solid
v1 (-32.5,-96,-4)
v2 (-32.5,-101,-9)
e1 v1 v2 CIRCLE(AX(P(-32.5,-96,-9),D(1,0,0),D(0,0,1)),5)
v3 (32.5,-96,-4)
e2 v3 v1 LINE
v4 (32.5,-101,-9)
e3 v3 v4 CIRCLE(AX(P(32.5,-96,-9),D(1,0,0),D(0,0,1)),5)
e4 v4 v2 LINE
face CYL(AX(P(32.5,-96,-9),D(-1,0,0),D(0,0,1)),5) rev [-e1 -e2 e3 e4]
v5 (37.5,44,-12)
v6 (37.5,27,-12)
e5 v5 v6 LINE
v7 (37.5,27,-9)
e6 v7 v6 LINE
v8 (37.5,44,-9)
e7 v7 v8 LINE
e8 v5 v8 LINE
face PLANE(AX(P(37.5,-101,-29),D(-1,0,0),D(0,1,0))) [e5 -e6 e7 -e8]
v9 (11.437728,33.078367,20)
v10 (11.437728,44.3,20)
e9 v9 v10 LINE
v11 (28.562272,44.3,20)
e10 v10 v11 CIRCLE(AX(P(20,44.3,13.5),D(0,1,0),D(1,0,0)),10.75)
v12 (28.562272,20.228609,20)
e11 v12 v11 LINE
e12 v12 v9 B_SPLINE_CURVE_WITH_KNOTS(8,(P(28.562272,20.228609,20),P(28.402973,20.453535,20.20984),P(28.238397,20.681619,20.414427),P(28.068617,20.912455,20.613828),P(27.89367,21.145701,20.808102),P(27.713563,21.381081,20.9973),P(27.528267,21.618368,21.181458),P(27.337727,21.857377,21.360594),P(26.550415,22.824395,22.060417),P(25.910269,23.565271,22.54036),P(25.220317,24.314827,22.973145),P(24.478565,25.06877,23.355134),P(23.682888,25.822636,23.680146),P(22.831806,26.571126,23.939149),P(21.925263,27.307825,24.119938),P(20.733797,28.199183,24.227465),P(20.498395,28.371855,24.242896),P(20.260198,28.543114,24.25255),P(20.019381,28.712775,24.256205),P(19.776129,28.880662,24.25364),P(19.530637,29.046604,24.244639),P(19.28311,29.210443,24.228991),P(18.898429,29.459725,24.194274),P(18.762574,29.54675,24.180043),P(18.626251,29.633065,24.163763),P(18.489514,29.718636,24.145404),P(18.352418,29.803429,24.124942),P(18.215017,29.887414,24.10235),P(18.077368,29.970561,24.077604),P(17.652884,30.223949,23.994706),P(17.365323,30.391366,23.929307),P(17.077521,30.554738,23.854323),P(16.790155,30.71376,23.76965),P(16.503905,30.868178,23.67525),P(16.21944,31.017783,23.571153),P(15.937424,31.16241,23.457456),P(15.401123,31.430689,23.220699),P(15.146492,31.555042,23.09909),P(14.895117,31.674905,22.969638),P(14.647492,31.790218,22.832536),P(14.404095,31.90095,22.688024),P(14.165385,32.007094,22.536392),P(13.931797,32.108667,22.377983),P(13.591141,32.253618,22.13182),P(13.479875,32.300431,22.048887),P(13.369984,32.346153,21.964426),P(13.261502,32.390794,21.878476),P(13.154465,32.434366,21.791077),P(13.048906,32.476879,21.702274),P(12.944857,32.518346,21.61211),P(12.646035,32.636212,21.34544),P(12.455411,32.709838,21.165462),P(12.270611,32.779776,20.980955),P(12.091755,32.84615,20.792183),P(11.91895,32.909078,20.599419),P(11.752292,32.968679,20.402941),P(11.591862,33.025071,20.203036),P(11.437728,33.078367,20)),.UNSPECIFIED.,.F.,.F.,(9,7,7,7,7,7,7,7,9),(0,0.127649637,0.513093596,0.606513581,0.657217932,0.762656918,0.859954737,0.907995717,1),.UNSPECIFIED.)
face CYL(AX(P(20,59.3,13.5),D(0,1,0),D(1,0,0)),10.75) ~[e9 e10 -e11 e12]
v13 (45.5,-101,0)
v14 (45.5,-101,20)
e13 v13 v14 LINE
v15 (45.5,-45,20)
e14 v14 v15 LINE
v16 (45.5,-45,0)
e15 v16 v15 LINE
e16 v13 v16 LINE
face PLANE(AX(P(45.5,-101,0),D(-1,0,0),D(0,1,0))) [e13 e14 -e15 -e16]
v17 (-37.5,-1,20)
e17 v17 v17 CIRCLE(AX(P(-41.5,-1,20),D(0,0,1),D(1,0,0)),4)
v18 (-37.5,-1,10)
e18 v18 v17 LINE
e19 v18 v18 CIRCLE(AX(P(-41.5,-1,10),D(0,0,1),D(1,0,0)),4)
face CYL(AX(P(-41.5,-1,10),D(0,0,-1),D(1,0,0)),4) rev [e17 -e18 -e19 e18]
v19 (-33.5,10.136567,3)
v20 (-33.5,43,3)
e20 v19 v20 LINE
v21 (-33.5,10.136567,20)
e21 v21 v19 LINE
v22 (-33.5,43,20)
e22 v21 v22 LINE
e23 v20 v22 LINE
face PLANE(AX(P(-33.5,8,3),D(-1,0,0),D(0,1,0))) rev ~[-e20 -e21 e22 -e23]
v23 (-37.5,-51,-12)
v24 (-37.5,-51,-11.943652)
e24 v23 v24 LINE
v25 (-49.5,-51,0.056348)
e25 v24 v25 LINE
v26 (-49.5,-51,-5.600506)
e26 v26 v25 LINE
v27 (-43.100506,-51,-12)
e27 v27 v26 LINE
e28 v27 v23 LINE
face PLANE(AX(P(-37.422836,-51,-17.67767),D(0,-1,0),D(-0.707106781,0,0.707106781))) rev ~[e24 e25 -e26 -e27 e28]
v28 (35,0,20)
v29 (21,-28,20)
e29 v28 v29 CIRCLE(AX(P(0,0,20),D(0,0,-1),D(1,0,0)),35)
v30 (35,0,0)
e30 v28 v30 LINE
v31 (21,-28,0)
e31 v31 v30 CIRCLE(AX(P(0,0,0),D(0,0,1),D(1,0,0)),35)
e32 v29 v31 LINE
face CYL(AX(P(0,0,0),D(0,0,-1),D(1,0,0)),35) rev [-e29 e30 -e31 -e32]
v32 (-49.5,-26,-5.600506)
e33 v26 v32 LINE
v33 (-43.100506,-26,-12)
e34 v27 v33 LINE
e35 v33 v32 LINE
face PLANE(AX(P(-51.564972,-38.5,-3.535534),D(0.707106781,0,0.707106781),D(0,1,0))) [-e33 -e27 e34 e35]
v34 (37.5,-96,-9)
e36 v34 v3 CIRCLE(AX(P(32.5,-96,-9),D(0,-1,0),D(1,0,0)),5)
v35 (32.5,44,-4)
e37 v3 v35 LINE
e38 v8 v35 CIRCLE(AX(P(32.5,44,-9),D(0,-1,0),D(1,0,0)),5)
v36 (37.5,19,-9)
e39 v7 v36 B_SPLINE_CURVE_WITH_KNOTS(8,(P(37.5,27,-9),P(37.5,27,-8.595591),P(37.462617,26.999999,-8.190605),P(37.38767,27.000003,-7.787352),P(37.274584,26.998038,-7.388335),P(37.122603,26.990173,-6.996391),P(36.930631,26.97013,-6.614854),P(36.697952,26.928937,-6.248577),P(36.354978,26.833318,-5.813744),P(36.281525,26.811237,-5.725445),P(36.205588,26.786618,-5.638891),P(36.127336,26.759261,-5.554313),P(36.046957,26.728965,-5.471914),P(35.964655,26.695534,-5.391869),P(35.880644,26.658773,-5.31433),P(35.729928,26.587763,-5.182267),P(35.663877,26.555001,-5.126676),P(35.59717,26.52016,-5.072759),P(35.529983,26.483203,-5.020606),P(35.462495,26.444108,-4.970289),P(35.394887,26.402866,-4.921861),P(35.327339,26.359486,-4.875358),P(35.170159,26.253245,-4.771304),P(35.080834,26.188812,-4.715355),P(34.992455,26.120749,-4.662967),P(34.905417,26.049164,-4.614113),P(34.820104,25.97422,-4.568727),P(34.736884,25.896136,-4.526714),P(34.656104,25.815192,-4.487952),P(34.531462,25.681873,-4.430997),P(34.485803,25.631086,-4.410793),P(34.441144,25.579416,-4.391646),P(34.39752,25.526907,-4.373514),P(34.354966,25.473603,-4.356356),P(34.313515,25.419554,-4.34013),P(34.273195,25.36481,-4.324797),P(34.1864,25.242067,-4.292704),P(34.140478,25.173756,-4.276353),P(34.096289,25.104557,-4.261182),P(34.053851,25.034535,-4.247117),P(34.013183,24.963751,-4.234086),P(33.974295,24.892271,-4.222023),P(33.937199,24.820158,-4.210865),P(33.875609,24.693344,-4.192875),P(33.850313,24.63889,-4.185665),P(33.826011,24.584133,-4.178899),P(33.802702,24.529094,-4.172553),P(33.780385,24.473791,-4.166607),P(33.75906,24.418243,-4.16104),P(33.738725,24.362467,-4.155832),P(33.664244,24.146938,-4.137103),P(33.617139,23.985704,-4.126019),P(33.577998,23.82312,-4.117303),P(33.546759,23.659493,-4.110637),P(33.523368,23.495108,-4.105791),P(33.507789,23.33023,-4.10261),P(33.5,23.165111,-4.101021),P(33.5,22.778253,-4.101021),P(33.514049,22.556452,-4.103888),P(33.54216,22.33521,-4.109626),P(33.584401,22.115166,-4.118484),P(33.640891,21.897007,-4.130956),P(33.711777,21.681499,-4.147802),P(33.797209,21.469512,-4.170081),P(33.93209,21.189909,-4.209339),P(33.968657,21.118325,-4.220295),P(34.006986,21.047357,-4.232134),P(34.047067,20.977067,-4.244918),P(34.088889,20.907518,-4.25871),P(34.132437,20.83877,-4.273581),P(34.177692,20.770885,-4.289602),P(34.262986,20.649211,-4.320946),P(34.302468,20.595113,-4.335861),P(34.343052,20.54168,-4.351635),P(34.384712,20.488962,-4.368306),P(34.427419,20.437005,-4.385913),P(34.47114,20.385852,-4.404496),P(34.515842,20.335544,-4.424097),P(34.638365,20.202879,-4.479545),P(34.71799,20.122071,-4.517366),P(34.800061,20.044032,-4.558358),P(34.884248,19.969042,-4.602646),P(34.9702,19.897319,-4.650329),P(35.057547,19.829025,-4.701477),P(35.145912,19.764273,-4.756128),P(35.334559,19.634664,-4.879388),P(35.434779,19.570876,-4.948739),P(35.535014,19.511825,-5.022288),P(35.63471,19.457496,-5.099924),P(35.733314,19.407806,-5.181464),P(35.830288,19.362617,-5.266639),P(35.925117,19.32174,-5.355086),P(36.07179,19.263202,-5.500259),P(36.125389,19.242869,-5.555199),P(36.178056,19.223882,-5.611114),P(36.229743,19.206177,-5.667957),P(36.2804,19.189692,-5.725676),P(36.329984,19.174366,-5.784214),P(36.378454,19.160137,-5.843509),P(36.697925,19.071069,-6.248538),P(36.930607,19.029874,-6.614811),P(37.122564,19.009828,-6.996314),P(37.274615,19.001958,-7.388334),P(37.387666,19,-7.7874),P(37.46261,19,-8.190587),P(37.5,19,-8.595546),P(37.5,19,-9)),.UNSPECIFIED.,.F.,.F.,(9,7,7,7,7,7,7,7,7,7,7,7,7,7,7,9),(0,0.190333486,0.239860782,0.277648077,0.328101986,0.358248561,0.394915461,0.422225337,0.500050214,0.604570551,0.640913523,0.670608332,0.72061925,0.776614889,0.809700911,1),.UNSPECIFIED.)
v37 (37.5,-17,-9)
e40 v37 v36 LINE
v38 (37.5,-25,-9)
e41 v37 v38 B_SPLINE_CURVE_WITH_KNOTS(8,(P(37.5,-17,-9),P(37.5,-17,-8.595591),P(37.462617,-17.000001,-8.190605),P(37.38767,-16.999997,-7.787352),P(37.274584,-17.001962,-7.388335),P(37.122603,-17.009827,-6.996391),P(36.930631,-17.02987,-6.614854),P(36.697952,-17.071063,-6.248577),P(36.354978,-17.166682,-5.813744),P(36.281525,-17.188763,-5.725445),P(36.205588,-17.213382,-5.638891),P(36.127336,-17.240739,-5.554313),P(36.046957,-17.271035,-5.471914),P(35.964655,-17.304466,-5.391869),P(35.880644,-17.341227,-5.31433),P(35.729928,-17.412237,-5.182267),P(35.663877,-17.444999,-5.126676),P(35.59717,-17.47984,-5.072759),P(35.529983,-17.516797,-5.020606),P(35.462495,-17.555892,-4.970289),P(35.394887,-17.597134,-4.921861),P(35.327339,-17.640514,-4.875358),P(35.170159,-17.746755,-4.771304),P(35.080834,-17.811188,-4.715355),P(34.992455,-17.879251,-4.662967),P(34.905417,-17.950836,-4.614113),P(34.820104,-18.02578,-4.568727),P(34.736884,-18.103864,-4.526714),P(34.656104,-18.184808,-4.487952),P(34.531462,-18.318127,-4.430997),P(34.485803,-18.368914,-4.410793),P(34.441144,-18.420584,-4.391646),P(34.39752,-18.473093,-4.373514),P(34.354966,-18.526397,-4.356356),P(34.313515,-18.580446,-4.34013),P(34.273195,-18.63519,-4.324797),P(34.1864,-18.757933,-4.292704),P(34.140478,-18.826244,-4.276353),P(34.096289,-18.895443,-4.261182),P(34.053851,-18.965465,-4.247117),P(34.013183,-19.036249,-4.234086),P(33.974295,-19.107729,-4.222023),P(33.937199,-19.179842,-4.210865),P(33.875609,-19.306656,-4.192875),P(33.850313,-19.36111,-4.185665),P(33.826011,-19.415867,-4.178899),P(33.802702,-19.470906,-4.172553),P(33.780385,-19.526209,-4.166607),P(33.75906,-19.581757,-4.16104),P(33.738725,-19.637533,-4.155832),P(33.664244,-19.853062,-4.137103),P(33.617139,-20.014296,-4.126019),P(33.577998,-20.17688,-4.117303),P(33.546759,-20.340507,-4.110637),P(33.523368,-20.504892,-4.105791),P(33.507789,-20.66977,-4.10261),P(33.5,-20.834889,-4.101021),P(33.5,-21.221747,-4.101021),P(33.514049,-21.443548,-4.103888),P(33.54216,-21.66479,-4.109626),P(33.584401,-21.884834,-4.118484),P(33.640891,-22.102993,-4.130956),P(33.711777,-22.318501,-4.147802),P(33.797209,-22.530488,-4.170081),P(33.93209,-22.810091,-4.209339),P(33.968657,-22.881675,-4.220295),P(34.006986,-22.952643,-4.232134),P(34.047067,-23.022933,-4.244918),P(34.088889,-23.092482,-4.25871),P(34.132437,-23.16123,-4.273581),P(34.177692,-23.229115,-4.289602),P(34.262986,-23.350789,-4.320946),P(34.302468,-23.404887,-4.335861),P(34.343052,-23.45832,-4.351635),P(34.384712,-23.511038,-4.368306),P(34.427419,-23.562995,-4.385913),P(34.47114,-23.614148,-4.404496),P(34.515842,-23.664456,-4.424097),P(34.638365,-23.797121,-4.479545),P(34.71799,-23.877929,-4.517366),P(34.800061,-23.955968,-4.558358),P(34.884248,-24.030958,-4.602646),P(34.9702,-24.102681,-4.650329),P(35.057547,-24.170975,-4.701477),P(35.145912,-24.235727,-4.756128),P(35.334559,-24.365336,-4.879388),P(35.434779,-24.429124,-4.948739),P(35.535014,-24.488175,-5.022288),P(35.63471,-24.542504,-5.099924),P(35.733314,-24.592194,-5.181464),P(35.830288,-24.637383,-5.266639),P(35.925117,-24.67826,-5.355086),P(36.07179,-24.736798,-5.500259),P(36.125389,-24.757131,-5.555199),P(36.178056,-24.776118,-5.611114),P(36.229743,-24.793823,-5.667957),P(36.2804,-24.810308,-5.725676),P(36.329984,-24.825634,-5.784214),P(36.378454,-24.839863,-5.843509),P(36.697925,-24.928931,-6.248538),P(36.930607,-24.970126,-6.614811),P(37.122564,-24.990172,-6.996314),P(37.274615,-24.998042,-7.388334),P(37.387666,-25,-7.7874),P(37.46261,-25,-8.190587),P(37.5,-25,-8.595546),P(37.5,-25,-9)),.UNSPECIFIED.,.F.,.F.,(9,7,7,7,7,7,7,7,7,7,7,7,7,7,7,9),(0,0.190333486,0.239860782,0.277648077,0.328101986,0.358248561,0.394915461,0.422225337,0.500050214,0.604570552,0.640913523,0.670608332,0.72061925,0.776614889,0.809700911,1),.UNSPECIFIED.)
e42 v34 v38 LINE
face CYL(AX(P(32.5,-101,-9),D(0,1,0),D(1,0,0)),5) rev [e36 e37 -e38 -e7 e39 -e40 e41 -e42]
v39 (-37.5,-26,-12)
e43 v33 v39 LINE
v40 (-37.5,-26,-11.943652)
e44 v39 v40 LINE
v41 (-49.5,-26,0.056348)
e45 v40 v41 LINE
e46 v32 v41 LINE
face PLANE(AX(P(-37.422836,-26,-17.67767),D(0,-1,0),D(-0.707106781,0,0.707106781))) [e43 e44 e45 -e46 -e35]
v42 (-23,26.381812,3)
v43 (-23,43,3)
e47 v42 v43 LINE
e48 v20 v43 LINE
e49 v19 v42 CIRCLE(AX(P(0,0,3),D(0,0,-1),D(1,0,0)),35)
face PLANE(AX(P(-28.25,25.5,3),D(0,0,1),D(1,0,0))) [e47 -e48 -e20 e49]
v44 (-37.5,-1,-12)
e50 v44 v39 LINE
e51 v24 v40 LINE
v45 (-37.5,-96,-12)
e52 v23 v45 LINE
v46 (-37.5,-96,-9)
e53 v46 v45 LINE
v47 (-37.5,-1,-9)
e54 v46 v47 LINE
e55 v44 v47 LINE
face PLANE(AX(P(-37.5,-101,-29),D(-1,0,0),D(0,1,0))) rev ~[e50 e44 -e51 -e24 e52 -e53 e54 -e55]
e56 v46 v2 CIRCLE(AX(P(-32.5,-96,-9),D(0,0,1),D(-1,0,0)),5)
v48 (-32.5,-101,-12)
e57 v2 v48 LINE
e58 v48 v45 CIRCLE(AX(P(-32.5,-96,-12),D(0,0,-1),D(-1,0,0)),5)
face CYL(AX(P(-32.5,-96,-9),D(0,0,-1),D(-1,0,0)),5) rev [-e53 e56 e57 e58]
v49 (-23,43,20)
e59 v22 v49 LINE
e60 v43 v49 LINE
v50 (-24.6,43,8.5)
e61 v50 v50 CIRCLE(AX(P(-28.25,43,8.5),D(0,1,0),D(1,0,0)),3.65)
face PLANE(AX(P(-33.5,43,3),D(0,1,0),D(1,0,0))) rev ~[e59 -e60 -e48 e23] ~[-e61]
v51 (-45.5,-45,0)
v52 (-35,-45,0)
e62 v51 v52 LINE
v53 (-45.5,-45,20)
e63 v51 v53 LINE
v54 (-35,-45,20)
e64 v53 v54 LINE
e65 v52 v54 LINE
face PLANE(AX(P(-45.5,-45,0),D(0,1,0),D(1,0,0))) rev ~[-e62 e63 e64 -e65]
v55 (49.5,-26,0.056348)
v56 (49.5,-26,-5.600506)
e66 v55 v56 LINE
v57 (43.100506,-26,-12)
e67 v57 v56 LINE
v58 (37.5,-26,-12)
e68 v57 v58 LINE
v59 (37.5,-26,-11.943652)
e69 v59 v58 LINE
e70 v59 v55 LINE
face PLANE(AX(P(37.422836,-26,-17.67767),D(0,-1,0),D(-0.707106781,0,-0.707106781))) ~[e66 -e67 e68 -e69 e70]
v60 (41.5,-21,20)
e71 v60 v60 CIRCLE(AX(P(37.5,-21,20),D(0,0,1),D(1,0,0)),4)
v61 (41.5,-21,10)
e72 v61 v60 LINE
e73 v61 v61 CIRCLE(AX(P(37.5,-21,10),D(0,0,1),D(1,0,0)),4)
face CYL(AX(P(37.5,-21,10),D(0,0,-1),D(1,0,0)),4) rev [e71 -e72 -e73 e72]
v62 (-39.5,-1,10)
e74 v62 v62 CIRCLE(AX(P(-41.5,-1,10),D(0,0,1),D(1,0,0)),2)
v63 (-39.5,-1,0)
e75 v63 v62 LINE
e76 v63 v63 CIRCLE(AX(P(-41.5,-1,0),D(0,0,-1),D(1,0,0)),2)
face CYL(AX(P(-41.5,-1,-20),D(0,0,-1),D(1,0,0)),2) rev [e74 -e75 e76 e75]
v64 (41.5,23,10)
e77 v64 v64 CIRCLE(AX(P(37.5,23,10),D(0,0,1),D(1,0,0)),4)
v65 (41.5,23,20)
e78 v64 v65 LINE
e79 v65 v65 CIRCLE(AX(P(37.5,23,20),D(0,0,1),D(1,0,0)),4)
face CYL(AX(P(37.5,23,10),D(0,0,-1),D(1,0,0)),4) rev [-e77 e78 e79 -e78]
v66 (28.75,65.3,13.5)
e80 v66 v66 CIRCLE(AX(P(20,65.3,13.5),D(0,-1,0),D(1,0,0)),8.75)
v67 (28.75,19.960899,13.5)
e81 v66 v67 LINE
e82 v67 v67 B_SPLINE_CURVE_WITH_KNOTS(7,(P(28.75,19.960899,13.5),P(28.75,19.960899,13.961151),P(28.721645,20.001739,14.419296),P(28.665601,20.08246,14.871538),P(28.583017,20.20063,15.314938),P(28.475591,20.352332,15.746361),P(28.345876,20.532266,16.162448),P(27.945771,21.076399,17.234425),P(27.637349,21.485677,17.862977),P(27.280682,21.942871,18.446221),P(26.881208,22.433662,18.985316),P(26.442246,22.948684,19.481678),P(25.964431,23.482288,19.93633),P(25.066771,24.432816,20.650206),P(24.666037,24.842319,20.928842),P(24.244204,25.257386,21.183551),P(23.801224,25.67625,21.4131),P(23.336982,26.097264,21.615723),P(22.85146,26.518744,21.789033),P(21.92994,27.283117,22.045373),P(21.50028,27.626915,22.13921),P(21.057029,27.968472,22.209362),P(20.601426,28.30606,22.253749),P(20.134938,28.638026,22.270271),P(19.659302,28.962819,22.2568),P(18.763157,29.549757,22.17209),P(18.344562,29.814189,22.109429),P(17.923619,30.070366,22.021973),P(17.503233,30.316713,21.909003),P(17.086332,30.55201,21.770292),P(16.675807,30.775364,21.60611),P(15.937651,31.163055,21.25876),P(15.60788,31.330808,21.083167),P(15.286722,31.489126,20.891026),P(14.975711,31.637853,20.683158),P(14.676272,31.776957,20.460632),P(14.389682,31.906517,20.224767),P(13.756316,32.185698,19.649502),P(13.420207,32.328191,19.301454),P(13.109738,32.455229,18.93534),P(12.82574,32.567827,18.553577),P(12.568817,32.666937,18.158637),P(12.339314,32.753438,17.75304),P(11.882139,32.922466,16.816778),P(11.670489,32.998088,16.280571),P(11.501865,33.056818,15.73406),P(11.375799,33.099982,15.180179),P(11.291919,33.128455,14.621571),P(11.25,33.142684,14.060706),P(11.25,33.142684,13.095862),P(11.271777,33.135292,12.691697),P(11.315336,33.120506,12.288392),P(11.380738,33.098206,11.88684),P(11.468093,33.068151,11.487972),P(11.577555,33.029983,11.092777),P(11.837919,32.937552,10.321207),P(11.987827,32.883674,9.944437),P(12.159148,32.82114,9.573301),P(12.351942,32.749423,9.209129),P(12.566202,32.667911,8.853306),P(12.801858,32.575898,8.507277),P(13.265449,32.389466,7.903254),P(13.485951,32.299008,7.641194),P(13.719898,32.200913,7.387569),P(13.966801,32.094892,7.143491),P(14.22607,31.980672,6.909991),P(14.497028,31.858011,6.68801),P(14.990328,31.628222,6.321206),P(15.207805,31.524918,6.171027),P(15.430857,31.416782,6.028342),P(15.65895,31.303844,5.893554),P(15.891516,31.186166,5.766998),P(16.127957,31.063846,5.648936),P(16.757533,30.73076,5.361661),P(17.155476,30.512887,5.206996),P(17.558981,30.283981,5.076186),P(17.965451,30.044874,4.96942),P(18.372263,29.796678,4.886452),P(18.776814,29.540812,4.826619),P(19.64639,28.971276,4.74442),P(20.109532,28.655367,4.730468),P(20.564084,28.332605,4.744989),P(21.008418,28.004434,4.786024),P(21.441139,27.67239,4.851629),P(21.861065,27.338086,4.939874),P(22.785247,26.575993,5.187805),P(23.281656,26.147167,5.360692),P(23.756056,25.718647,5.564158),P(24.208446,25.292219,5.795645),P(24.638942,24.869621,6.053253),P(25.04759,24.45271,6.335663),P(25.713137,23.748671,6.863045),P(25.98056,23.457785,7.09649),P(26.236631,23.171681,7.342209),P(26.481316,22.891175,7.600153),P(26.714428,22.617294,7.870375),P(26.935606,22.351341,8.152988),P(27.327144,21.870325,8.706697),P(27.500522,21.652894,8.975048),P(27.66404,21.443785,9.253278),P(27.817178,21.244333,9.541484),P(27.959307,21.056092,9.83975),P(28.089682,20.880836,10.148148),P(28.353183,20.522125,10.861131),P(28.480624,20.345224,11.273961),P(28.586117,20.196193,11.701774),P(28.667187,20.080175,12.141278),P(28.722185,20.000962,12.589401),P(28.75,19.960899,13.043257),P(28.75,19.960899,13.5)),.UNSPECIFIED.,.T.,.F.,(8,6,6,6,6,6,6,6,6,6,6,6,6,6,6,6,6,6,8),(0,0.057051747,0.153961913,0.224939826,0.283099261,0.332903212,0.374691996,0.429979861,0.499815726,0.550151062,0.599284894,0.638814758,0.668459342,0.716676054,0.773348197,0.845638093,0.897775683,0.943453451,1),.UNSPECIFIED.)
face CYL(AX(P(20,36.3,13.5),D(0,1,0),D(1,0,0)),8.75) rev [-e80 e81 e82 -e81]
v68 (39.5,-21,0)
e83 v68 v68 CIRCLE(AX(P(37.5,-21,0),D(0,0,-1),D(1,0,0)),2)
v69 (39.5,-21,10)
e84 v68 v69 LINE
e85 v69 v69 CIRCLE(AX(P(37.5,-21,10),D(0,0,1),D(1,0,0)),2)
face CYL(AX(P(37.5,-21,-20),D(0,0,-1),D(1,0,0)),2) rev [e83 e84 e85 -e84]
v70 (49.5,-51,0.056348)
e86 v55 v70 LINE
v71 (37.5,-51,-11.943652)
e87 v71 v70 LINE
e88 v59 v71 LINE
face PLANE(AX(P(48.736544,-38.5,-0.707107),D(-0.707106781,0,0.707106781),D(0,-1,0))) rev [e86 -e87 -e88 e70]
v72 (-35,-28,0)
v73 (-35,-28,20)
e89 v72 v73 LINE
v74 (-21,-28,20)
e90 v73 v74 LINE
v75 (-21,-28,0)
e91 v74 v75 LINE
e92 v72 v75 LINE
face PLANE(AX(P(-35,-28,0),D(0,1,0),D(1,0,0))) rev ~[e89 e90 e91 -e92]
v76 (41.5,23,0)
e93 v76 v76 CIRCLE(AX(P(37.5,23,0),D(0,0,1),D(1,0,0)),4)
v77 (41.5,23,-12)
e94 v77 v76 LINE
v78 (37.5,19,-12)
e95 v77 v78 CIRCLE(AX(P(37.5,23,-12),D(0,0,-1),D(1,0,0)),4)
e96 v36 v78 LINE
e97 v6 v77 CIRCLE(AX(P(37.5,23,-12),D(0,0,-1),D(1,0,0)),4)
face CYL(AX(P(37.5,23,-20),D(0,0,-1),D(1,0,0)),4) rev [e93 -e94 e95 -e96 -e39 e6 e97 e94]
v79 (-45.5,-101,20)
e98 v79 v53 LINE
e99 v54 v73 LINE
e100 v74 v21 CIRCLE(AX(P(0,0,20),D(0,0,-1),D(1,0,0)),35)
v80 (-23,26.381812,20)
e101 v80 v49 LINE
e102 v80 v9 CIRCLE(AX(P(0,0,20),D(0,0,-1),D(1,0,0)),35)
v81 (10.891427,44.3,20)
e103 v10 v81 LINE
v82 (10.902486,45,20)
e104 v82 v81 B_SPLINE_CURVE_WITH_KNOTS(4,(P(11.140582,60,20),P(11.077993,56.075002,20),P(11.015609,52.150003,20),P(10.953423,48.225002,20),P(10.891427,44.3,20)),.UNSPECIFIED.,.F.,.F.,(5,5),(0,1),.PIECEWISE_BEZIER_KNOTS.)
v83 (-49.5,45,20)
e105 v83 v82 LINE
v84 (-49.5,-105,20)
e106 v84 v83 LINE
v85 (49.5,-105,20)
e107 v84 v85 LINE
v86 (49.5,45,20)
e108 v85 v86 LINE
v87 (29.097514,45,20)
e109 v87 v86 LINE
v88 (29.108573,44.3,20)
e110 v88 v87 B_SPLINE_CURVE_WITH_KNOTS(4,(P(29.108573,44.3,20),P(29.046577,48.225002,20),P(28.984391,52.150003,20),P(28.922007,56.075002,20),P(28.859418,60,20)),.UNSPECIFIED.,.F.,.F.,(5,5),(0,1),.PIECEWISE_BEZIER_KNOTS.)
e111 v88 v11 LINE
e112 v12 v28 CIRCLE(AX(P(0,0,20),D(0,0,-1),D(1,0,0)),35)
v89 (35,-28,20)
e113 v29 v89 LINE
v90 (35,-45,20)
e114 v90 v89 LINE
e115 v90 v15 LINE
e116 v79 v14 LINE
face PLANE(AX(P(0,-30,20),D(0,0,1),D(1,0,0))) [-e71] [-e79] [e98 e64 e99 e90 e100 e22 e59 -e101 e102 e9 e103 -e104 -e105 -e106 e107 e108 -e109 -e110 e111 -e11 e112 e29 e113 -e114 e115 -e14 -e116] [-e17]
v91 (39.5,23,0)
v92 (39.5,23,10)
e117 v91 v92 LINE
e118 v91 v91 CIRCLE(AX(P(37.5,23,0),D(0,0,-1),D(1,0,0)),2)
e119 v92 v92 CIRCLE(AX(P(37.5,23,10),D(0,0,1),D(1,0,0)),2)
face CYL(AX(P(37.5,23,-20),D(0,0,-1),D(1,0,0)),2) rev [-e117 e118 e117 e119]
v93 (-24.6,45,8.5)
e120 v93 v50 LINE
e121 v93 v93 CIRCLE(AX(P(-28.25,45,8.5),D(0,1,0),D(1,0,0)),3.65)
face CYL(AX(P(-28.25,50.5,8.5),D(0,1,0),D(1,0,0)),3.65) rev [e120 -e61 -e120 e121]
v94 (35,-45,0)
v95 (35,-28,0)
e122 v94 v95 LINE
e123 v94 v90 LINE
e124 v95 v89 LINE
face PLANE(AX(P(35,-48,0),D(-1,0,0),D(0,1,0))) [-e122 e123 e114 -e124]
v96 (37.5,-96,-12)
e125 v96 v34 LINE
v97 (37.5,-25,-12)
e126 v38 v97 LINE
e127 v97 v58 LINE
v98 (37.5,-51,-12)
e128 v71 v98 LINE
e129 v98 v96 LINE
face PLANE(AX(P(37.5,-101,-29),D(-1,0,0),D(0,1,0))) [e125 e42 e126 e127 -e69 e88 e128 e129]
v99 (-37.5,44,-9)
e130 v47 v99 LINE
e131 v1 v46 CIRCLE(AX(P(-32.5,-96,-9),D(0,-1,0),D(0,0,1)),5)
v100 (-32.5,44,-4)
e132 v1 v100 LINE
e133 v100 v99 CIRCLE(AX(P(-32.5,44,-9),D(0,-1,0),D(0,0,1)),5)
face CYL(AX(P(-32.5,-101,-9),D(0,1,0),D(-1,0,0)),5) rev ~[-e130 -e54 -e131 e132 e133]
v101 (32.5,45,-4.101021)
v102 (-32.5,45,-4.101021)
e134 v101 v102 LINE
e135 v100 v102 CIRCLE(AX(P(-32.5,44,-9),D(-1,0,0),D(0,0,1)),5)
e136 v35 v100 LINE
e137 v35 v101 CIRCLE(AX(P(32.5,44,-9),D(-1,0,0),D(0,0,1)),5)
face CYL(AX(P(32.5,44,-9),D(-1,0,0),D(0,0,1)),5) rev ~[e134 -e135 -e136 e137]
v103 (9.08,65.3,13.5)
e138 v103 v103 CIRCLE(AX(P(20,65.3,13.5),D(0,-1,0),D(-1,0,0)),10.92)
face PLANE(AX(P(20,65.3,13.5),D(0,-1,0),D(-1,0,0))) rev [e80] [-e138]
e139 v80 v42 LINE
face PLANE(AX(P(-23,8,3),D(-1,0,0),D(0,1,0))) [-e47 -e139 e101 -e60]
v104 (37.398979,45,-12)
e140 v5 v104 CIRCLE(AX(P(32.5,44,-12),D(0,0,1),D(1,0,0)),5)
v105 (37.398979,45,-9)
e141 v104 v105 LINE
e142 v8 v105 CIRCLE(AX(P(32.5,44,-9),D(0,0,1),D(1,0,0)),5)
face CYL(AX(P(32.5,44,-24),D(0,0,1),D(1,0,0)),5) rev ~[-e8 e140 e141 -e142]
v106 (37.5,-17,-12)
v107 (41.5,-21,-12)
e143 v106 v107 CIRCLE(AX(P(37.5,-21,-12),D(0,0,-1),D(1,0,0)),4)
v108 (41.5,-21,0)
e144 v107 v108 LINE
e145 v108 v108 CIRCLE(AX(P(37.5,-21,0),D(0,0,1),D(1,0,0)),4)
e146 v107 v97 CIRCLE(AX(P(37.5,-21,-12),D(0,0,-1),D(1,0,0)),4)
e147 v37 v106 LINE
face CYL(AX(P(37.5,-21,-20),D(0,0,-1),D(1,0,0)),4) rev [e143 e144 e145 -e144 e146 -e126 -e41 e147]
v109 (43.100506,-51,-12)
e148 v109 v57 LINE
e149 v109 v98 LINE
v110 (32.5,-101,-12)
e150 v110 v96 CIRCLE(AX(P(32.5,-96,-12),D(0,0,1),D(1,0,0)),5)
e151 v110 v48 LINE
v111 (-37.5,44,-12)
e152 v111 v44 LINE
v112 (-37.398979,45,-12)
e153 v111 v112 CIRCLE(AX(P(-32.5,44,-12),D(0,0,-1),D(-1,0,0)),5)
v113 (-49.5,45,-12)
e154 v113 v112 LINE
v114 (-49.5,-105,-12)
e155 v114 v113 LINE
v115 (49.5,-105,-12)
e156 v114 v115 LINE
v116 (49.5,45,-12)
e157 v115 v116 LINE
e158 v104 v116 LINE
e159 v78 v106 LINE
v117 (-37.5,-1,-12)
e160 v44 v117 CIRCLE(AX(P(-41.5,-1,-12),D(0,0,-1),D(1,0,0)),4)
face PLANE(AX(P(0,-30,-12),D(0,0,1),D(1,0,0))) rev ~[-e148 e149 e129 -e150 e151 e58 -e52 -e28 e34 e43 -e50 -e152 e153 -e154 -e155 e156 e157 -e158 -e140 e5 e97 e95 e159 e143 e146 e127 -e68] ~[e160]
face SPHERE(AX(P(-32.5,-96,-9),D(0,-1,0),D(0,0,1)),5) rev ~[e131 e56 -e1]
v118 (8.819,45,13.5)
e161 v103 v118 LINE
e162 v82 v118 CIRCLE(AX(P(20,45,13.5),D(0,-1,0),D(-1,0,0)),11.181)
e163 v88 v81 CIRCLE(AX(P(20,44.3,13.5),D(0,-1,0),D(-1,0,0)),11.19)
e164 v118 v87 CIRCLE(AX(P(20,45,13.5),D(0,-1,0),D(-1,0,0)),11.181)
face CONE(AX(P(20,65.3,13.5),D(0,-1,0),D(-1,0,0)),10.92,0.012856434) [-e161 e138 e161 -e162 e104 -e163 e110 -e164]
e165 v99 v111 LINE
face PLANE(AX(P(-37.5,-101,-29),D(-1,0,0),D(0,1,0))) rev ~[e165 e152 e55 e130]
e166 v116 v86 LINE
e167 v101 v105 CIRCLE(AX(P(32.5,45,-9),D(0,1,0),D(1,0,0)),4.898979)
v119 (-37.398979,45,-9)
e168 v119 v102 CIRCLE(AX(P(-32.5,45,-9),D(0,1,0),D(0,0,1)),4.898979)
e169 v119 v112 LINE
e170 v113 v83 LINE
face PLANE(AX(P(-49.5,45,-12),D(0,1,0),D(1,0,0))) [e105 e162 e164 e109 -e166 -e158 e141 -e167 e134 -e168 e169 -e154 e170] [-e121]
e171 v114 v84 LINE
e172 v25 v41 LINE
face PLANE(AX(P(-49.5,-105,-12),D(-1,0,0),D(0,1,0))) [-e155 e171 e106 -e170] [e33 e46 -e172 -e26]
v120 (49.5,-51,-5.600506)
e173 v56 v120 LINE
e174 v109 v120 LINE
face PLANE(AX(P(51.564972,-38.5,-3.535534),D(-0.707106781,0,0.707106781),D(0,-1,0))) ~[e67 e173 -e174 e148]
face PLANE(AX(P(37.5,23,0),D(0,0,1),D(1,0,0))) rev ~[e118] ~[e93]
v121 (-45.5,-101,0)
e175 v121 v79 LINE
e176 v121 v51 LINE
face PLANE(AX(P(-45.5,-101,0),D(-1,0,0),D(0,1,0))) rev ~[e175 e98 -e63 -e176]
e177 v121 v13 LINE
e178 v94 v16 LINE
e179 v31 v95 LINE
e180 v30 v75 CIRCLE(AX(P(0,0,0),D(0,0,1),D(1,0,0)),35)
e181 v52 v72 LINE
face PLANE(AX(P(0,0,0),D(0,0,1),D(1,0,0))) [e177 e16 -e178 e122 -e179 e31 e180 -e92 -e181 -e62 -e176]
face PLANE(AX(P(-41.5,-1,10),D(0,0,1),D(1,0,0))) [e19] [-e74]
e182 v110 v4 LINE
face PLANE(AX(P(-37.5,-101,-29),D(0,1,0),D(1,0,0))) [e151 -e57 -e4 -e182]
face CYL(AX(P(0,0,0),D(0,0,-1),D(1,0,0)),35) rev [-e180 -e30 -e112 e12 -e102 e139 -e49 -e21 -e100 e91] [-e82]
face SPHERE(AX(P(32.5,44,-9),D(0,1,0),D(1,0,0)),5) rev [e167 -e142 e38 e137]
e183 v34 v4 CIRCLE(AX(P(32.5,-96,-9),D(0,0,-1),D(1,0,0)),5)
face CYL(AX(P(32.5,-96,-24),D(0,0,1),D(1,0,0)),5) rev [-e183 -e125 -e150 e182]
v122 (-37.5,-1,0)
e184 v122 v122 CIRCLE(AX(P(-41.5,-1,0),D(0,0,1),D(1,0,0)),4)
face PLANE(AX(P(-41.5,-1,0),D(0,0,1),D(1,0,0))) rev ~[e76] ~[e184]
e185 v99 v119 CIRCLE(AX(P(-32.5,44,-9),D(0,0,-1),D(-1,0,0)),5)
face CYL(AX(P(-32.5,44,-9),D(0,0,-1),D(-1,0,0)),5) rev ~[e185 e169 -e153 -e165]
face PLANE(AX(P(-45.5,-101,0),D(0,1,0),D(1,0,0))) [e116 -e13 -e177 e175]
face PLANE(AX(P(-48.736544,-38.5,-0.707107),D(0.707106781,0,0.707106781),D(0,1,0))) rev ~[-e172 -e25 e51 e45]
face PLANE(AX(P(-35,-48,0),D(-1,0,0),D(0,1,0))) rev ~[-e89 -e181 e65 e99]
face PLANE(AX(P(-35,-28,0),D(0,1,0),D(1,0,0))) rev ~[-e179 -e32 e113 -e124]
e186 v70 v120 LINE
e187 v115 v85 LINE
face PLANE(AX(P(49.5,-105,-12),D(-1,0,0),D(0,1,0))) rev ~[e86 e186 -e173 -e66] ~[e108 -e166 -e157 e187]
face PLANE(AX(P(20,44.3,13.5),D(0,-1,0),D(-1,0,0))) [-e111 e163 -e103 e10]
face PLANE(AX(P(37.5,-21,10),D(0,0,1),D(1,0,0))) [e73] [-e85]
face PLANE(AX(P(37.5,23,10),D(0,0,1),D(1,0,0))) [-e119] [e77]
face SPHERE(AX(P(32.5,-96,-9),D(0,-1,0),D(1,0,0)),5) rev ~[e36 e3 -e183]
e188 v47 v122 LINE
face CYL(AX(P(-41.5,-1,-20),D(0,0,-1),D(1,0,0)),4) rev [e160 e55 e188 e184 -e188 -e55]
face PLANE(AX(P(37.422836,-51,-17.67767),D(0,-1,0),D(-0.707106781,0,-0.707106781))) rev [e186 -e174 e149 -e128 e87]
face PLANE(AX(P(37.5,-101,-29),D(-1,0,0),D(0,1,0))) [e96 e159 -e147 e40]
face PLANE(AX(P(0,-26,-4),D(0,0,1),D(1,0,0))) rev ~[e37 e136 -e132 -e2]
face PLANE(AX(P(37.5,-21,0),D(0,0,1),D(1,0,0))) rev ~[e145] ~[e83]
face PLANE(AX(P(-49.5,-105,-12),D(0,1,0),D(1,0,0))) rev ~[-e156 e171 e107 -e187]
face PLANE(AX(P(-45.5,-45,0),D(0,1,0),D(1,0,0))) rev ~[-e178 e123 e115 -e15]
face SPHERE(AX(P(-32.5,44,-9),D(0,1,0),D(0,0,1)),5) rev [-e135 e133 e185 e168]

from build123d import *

# Parameters (mm, degrees)
BOX006_W               = 25
BOX006_H               = 40
BOX006_DEPTH           = 4
BOX006_ROLL_ANGLE      = 45
BOX006_PLACEMENT_ANGLE = 90
BOX005_W               = 25
BOX005_H               = 40
BOX005_DEPTH           = 4
BOX005_ROLL_ANGLE      = 45
BOX005_PLACEMENT_ANGLE = 90
CYLINDER014_R          = 4
CYLINDER014_DEPTH      = 20
CYLINDER015_R          = 4
CYLINDER015_DEPTH      = 20
CYLINDER016_R          = 4
CYLINDER016_DEPTH      = 20
CYLINDER011_R          = 2
CYLINDER011_DEPTH      = 30
CYLINDER012_R          = 2
CYLINDER012_DEPTH      = 30
CYLINDER013_R          = 2
CYLINDER013_DEPTH      = 30
CYLINDER009_R          = 4
CYLINDER009_DEPTH      = 10
CYLINDER010_R          = 4
CYLINDER010_DEPTH      = 10
CYLINDER008_R          = 4
CYLINDER008_DEPTH      = 10
BOX001_W               = 70
BOX001_H               = 20
BOX001_DEPTH           = 20
BOX_W                  = 91
BOX_H                  = 56
BOX_DEPTH              = 20
BOX002_W               = 10.5
BOX002_H               = 35
BOX002_DEPTH           = 17
CYLINDER006_R          = 3.65
CYLINDER006_DEPTH      = 10
BOX003_W               = 75
BOX003_H               = 150
BOX003_DEPTH           = 25
FILLET_R               = 5
FILLET001_R            = 5
FILLET002_R            = 5
FILLET003_R            = 5
FILLET004_R            = 5
FILLET005_R            = 5
CYLINDER003_R          = 8.75
CYLINDER003_DEPTH      = 40
CYLINDER002_R          = 2
CYLINDER002_DEPTH      = 10
ARRAY_COUNT            = 3
CYLINDER001_R          = 2.25
CYLINDER001_DEPTH      = 5
CYLINDER_R             = 35
CYLINDER_DEPTH         = 18
CYLINDER004_R          = 35
CYLINDER004_DEPTH      = 25
CYLINDER005_R          = 8.75
CYLINDER005_DEPTH      = 40
CYLINDER007_R          = 10.75
CYLINDER007_DEPTH      = 40
BOX004_W               = 99
BOX004_H               = 150
BOX004_DEPTH           = 32


with BuildPart() as slot2:
    # Box006 → Box006 (new body)
    with BuildSketch(Plane.XY):
        with Locations((12.5, 20)):
            Rectangle(BOX006_W, BOX006_H)
    extrude(amount=BOX006_DEPTH)


with BuildPart() as slot2_1:
    # Box006 roll: moved
    add(slot2.part.rotate(Axis((0, 0, 0), (1, 0, 0)), BOX006_ROLL_ANGLE))


with BuildPart() as slot2_2:
    # Box006 placement: moved
    add(slot2_1.part.moved(Location((-37.422836, -44, -17.67767))).rotate(Axis((-37.422836, -44, -17.67767), (0, 0, 1)), BOX006_PLACEMENT_ANGLE))


with BuildPart() as part_mirroring:
    # Part__Mirroring: instance of Slot2
    add(slot2_2.part.mirror(Plane(origin=(0, 0, 0), x_dir=(0, -1, 0), z_dir=(1, 0, 0))))


with BuildPart() as part_mirroring_1:
    # Part__Mirroring placement: moved
    add(part_mirroring.part.moved(Location((0, -7, 0))))


with BuildPart() as strapslots:
    # Box005 → Box005 (new body)
    with BuildSketch(Plane.XY):
        with Locations((12.5, 20)):
            Rectangle(BOX005_W, BOX005_H)
    extrude(amount=BOX005_DEPTH)


with BuildPart() as strapslots_1:
    # Box005 roll: moved
    add(strapslots.part.rotate(Axis((0, 0, 0), (1, 0, 0)), BOX005_ROLL_ANGLE))


with BuildPart() as strapslots_2:
    # Box005 placement: moved
    add(strapslots_1.part.moved(Location((-37.422836, -51, -17.67767))).rotate(Axis((-37.422836, -51, -17.67767), (0, 0, 1)), BOX005_PLACEMENT_ANGLE))

    # Fusion011: union Part__Mirroring
    add(part_mirroring_1.part)


with BuildPart() as cylinder009:
    # Cylinder014 → Cylinder014 (new body)
    with BuildSketch(Plane(origin=(37.5, -21, 10), x_dir=(1, 0, 0), z_dir=(0, 0, 1))):
        Circle(CYLINDER014_R)
    extrude(amount=CYLINDER014_DEPTH)


with BuildPart() as cylinder010:
    # Cylinder015 → Cylinder015 (new body)
    with BuildSketch(Plane(origin=(37.5, 23, 10), x_dir=(1, 0, 0), z_dir=(0, 0, 1))):
        Circle(CYLINDER015_R)
    extrude(amount=CYLINDER015_DEPTH)


with BuildPart() as mounting002:
    # Cylinder016 → Cylinder016 (new body)
    with BuildSketch(Plane(origin=(-41.5, -1, 10), x_dir=(1, 0, 0), z_dir=(0, 0, 1))):
        Circle(CYLINDER016_R)
    extrude(amount=CYLINDER016_DEPTH)

    # Fusion008: union Cylinder009, Cylinder010
    add(cylinder009.part)
    add(cylinder010.part)


with BuildPart() as mounting002_1:
    # Fusion008 placement: moved
    add(mounting002.part.moved(Location((0, 0, -30))))


with BuildPart() as cylinder006:
    # Cylinder011 → Cylinder011 (new body)
    with BuildSketch(Plane(origin=(37.5, -21, 10), x_dir=(1, 0, 0), z_dir=(0, 0, 1))):
        Circle(CYLINDER011_R)
    extrude(amount=CYLINDER011_DEPTH)


with BuildPart() as cylinder007:
    # Cylinder012 → Cylinder012 (new body)
    with BuildSketch(Plane(origin=(37.5, 23, 10), x_dir=(1, 0, 0), z_dir=(0, 0, 1))):
        Circle(CYLINDER012_R)
    extrude(amount=CYLINDER012_DEPTH)


with BuildPart() as bottommounting:
    # Cylinder013 → Cylinder013 (new body)
    with BuildSketch(Plane(origin=(-41.5, -1, 10), x_dir=(1, 0, 0), z_dir=(0, 0, 1))):
        Circle(CYLINDER013_R)
    extrude(amount=CYLINDER013_DEPTH)

    # Fusion007: union Cylinder006, Cylinder007
    add(cylinder006.part)
    add(cylinder007.part)


with BuildPart() as bottommounting_1:
    # Fusion007 placement: moved
    add(bottommounting.part.moved(Location((0, 0, -30))))

    # Fusion009: union Mounting002
    add(mounting002_1.part)


with BuildPart() as cylinder004:
    # Cylinder009 → Cylinder009 (new body)
    with BuildSketch(Plane(origin=(37.5, -21, 10), x_dir=(1, 0, 0), z_dir=(0, 0, 1))):
        Circle(CYLINDER009_R)
    extrude(amount=CYLINDER009_DEPTH)


with BuildPart() as cylinder005:
    # Cylinder010 → Cylinder010 (new body)
    with BuildSketch(Plane(origin=(37.5, 23, 10), x_dir=(1, 0, 0), z_dir=(0, 0, 1))):
        Circle(CYLINDER010_R)
    extrude(amount=CYLINDER010_DEPTH)


with BuildPart() as combinedmounting:
    # Cylinder008 → Cylinder008 (new body)
    with BuildSketch(Plane(origin=(-41.5, -1, 10), x_dir=(1, 0, 0), z_dir=(0, 0, 1))):
        Circle(CYLINDER008_R)
    extrude(amount=CYLINDER008_DEPTH)

    # Fusion006: union Cylinder004, Cylinder005
    add(cylinder004.part)
    add(cylinder005.part)

    # Fusion010: union BottomMounting
    add(bottommounting_1.part)


with BuildPart() as wiringpocket:
    # Box001 → Box001 (new body)
    with BuildSketch(Plane(origin=(-35, -53, 0), x_dir=(1, 0, 0), z_dir=(0, 0, 1))):
        with Locations((35, 10)):
            Rectangle(BOX001_W, BOX001_H)
    extrude(amount=BOX001_DEPTH)


with BuildPart() as electronicspocket:
    # Box → Box (new body)
    with BuildSketch(Plane(origin=(-45.5, -106, 0), x_dir=(1, 0, 0), z_dir=(0, 0, 1))):
        with Locations((45.5, 28)):
            Rectangle(BOX_W, BOX_H)
    extrude(amount=BOX_DEPTH)

    # Fusion: union WiringPocket
    add(wiringpocket.part)


with BuildPart() as electronicspocket_1:
    # Fusion placement: moved
    add(electronicspocket.part.moved(Location((0, 5, 0))))


with BuildPart() as potentiometer:
    # Box002 → Box002 (new body)
    with BuildSketch(Plane(origin=(-30, 18, 5.5), x_dir=(1, 0, 0), z_dir=(0, 0, 1))):
        with Locations((5.25, 17.5)):
            Rectangle(BOX002_W, BOX002_H)
    extrude(amount=BOX002_DEPTH)


with BuildPart() as potpocket:
    # Cylinder006 → Cylinder006 (new body)
    with BuildSketch(Plane(origin=(-24.75, 60.5, 11), x_dir=(1, 0, 0), z_dir=(0, -1, 0))):
        Circle(CYLINDER006_R)
    extrude(amount=CYLINDER006_DEPTH)

    # Fusion001: union Potentiometer
    add(potentiometer.part)


with BuildPart() as potpocket_1:
    # Fusion001 placement: moved
    add(potpocket.part.moved(Location((-3.5, -10, -2.5))))


with BuildPart() as batterypocket:
    # Box003 → Box003 (new body)
    with BuildSketch(Plane(origin=(-37.5, -101, -29), x_dir=(1, 0, 0), z_dir=(0, 0, 1))):
        with Locations((37.5, 75)):
            Rectangle(BOX003_W, BOX003_H)
    extrude(amount=BOX003_DEPTH)

    # Fillet
    fillet_edges = [batterypocket.edges().sort_by_distance(p)[0] for p in [
        (-37.5, -26, -4),
    ]]
    fillet(fillet_edges, radius=FILLET_R)

    # Fillet001
    fillet001_edges = [batterypocket.edges().sort_by_distance(p)[0] for p in [
        (-37.5, -26, -29),
    ]]
    fillet(fillet001_edges, radius=FILLET001_R)

    # Fillet002
    fillet002_edges = [batterypocket.edges().sort_by_distance(p)[0] for p in [
        (37.5, -26, -29),
    ]]
    fillet(fillet002_edges, radius=FILLET002_R)

    # Fillet003
    fillet003_edges = [batterypocket.edges().sort_by_distance(p)[0] for p in [
        (37.5, -26, -4),
    ]]
    fillet(fillet003_edges, radius=FILLET003_R)

    # Fillet004
    fillet004_edges = [batterypocket.edges().sort_by_distance(p)[0] for p in [
        (0, 49, -29),
    ]]
    fillet(fillet004_edges, radius=FILLET004_R)

    # Fillet005
    fillet005_edges = [batterypocket.edges().sort_by_distance(p)[0] for p in [
        (37.5, -101, -16.5),
        (0, -101, -4),
        (0, -101, -29),
        (-37.5, -101, -16.5),
    ]]
    fillet(fillet005_edges, radius=FILLET005_R)


with BuildPart() as blowerinlet:
    # Cone → Cone (revolve)
    with BuildSketch(Plane(origin=(0, 0, 22.5), x_dir=(1, 0, 0), z_dir=(0, -1, 0))):
        Polygon((0, 0), (27.25, 0), (27.15, 13), (0, 13), align=None)
    revolve(axis=Axis((0, 0, 22.5), (0, 0, 1)))


with BuildPart() as bloweroutlet:
    # Cylinder003 → Cylinder003 (new body)
    with BuildSketch(Plane(origin=(20, 36.3, 13.5), x_dir=(1, 0, 0), z_dir=(0, -1, 0))):
        Circle(CYLINDER003_R)
    extrude(amount=CYLINDER003_DEPTH)


with BuildPart() as blowerfeet:
    # Cylinder002 → Cylinder002 (new body)
    with BuildSketch(Plane(origin=(0, -28.4, 0), x_dir=(1, 0, 0), z_dir=(0, 0, 1))):
        Circle(CYLINDER002_R)
    extrude(amount=CYLINDER002_DEPTH)

    # Array: BlowerFeet ×3 about axis
    array_axis = Axis((0, 0, 0), (0, 0, 1))


with BuildPart() as blowerfeet_1:
    add(blowerfeet.part)
    for i in range(1, ARRAY_COUNT):
        add(blowerfeet.part.rotate(array_axis, i * 360 / ARRAY_COUNT))


with BuildPart() as blowerendbearing:
    # Cylinder001 → Cylinder001 (new body)
    with BuildSketch(Plane.XY.offset(1)):
        Circle(CYLINDER001_R)
    extrude(amount=CYLINDER001_DEPTH)


with BuildPart() as blowerbody:
    # Cylinder → Cylinder (new body)
    with BuildSketch(Plane.XY.offset(4.5)):
        Circle(CYLINDER_R)
    extrude(amount=CYLINDER_DEPTH)


with BuildPart() as blowerpocket:
    # Cylinder004 → Cylinder004 (new body)
    with BuildSketch(Plane.XY):
        Circle(CYLINDER004_R)
    extrude(amount=CYLINDER004_DEPTH)

    # Fusion003: union BlowerInlet, BlowerOutlet, BlowerFeet, BlowerEndbearing, BlowerBody
    add(blowerinlet.part)
    add(bloweroutlet.part)
    add(blowerfeet_1.part)
    add(blowerendbearing.part)
    add(blowerbody.part)


with BuildPart() as combinedpocket:
    # Cylinder005 → Cylinder005 (new body)
    with BuildSketch(Plane(origin=(20, 65.3, 13.5), x_dir=(1, 0, 0), z_dir=(0, -1, 0))):
        Circle(CYLINDER005_R)
    extrude(amount=CYLINDER005_DEPTH)

    # Fusion004: union ElectronicsPocket, PotPocket, BatteryPocket, BlowerPocket
    add(electronicspocket_1.part)
    add(potpocket_1.part)
    add(batterypocket.part)
    add(blowerpocket.part)


with BuildPart() as housingoutlet:
    # Cylinder007 → Cylinder007 (new body)
    with BuildSketch(Plane(origin=(20, 59.3, 13.5), x_dir=(1, 0, 0), z_dir=(0, -1, 0))):
        Circle(CYLINDER007_R)
    extrude(amount=CYLINDER007_DEPTH)


with BuildPart() as housingblock:
    # Box004 → Box004 (new body)
    with BuildSketch(Plane(origin=(-49.5, -105, -12), x_dir=(1, 0, 0), z_dir=(0, 0, 1))):
        with Locations((49.5, 75)):
            Rectangle(BOX004_W, BOX004_H)
    extrude(amount=BOX004_DEPTH)


with BuildPart() as papr_lower_housing:
    # Cone001 → Cone001 (revolve)
    with BuildSketch(Plane(origin=(20, 65.3, 13.5), x_dir=(-1, 0, 0), z_dir=(0, 0, 1))):
        Polygon((0, 0), (10.92, 0), (11.19, 21), (0, 21), align=None)
    revolve(axis=Axis((20, 65.3, 13.5), (0, -1, 0)))

    # Fusion005: union HousingOutlet, HousingBlock
    add(housingoutlet.part)
    add(housingblock.part)

    # Cut: cut CombinedPocket
    add(combinedpocket.part, mode=Mode.SUBTRACT)

    # Cut001: cut CombinedMounting
    add(combinedmounting.part, mode=Mode.SUBTRACT)

    # Cut002: cut StrapSlots
    add(strapslots_2.part, mode=Mode.SUBTRACT)


solid = papr_lower_housing.part
